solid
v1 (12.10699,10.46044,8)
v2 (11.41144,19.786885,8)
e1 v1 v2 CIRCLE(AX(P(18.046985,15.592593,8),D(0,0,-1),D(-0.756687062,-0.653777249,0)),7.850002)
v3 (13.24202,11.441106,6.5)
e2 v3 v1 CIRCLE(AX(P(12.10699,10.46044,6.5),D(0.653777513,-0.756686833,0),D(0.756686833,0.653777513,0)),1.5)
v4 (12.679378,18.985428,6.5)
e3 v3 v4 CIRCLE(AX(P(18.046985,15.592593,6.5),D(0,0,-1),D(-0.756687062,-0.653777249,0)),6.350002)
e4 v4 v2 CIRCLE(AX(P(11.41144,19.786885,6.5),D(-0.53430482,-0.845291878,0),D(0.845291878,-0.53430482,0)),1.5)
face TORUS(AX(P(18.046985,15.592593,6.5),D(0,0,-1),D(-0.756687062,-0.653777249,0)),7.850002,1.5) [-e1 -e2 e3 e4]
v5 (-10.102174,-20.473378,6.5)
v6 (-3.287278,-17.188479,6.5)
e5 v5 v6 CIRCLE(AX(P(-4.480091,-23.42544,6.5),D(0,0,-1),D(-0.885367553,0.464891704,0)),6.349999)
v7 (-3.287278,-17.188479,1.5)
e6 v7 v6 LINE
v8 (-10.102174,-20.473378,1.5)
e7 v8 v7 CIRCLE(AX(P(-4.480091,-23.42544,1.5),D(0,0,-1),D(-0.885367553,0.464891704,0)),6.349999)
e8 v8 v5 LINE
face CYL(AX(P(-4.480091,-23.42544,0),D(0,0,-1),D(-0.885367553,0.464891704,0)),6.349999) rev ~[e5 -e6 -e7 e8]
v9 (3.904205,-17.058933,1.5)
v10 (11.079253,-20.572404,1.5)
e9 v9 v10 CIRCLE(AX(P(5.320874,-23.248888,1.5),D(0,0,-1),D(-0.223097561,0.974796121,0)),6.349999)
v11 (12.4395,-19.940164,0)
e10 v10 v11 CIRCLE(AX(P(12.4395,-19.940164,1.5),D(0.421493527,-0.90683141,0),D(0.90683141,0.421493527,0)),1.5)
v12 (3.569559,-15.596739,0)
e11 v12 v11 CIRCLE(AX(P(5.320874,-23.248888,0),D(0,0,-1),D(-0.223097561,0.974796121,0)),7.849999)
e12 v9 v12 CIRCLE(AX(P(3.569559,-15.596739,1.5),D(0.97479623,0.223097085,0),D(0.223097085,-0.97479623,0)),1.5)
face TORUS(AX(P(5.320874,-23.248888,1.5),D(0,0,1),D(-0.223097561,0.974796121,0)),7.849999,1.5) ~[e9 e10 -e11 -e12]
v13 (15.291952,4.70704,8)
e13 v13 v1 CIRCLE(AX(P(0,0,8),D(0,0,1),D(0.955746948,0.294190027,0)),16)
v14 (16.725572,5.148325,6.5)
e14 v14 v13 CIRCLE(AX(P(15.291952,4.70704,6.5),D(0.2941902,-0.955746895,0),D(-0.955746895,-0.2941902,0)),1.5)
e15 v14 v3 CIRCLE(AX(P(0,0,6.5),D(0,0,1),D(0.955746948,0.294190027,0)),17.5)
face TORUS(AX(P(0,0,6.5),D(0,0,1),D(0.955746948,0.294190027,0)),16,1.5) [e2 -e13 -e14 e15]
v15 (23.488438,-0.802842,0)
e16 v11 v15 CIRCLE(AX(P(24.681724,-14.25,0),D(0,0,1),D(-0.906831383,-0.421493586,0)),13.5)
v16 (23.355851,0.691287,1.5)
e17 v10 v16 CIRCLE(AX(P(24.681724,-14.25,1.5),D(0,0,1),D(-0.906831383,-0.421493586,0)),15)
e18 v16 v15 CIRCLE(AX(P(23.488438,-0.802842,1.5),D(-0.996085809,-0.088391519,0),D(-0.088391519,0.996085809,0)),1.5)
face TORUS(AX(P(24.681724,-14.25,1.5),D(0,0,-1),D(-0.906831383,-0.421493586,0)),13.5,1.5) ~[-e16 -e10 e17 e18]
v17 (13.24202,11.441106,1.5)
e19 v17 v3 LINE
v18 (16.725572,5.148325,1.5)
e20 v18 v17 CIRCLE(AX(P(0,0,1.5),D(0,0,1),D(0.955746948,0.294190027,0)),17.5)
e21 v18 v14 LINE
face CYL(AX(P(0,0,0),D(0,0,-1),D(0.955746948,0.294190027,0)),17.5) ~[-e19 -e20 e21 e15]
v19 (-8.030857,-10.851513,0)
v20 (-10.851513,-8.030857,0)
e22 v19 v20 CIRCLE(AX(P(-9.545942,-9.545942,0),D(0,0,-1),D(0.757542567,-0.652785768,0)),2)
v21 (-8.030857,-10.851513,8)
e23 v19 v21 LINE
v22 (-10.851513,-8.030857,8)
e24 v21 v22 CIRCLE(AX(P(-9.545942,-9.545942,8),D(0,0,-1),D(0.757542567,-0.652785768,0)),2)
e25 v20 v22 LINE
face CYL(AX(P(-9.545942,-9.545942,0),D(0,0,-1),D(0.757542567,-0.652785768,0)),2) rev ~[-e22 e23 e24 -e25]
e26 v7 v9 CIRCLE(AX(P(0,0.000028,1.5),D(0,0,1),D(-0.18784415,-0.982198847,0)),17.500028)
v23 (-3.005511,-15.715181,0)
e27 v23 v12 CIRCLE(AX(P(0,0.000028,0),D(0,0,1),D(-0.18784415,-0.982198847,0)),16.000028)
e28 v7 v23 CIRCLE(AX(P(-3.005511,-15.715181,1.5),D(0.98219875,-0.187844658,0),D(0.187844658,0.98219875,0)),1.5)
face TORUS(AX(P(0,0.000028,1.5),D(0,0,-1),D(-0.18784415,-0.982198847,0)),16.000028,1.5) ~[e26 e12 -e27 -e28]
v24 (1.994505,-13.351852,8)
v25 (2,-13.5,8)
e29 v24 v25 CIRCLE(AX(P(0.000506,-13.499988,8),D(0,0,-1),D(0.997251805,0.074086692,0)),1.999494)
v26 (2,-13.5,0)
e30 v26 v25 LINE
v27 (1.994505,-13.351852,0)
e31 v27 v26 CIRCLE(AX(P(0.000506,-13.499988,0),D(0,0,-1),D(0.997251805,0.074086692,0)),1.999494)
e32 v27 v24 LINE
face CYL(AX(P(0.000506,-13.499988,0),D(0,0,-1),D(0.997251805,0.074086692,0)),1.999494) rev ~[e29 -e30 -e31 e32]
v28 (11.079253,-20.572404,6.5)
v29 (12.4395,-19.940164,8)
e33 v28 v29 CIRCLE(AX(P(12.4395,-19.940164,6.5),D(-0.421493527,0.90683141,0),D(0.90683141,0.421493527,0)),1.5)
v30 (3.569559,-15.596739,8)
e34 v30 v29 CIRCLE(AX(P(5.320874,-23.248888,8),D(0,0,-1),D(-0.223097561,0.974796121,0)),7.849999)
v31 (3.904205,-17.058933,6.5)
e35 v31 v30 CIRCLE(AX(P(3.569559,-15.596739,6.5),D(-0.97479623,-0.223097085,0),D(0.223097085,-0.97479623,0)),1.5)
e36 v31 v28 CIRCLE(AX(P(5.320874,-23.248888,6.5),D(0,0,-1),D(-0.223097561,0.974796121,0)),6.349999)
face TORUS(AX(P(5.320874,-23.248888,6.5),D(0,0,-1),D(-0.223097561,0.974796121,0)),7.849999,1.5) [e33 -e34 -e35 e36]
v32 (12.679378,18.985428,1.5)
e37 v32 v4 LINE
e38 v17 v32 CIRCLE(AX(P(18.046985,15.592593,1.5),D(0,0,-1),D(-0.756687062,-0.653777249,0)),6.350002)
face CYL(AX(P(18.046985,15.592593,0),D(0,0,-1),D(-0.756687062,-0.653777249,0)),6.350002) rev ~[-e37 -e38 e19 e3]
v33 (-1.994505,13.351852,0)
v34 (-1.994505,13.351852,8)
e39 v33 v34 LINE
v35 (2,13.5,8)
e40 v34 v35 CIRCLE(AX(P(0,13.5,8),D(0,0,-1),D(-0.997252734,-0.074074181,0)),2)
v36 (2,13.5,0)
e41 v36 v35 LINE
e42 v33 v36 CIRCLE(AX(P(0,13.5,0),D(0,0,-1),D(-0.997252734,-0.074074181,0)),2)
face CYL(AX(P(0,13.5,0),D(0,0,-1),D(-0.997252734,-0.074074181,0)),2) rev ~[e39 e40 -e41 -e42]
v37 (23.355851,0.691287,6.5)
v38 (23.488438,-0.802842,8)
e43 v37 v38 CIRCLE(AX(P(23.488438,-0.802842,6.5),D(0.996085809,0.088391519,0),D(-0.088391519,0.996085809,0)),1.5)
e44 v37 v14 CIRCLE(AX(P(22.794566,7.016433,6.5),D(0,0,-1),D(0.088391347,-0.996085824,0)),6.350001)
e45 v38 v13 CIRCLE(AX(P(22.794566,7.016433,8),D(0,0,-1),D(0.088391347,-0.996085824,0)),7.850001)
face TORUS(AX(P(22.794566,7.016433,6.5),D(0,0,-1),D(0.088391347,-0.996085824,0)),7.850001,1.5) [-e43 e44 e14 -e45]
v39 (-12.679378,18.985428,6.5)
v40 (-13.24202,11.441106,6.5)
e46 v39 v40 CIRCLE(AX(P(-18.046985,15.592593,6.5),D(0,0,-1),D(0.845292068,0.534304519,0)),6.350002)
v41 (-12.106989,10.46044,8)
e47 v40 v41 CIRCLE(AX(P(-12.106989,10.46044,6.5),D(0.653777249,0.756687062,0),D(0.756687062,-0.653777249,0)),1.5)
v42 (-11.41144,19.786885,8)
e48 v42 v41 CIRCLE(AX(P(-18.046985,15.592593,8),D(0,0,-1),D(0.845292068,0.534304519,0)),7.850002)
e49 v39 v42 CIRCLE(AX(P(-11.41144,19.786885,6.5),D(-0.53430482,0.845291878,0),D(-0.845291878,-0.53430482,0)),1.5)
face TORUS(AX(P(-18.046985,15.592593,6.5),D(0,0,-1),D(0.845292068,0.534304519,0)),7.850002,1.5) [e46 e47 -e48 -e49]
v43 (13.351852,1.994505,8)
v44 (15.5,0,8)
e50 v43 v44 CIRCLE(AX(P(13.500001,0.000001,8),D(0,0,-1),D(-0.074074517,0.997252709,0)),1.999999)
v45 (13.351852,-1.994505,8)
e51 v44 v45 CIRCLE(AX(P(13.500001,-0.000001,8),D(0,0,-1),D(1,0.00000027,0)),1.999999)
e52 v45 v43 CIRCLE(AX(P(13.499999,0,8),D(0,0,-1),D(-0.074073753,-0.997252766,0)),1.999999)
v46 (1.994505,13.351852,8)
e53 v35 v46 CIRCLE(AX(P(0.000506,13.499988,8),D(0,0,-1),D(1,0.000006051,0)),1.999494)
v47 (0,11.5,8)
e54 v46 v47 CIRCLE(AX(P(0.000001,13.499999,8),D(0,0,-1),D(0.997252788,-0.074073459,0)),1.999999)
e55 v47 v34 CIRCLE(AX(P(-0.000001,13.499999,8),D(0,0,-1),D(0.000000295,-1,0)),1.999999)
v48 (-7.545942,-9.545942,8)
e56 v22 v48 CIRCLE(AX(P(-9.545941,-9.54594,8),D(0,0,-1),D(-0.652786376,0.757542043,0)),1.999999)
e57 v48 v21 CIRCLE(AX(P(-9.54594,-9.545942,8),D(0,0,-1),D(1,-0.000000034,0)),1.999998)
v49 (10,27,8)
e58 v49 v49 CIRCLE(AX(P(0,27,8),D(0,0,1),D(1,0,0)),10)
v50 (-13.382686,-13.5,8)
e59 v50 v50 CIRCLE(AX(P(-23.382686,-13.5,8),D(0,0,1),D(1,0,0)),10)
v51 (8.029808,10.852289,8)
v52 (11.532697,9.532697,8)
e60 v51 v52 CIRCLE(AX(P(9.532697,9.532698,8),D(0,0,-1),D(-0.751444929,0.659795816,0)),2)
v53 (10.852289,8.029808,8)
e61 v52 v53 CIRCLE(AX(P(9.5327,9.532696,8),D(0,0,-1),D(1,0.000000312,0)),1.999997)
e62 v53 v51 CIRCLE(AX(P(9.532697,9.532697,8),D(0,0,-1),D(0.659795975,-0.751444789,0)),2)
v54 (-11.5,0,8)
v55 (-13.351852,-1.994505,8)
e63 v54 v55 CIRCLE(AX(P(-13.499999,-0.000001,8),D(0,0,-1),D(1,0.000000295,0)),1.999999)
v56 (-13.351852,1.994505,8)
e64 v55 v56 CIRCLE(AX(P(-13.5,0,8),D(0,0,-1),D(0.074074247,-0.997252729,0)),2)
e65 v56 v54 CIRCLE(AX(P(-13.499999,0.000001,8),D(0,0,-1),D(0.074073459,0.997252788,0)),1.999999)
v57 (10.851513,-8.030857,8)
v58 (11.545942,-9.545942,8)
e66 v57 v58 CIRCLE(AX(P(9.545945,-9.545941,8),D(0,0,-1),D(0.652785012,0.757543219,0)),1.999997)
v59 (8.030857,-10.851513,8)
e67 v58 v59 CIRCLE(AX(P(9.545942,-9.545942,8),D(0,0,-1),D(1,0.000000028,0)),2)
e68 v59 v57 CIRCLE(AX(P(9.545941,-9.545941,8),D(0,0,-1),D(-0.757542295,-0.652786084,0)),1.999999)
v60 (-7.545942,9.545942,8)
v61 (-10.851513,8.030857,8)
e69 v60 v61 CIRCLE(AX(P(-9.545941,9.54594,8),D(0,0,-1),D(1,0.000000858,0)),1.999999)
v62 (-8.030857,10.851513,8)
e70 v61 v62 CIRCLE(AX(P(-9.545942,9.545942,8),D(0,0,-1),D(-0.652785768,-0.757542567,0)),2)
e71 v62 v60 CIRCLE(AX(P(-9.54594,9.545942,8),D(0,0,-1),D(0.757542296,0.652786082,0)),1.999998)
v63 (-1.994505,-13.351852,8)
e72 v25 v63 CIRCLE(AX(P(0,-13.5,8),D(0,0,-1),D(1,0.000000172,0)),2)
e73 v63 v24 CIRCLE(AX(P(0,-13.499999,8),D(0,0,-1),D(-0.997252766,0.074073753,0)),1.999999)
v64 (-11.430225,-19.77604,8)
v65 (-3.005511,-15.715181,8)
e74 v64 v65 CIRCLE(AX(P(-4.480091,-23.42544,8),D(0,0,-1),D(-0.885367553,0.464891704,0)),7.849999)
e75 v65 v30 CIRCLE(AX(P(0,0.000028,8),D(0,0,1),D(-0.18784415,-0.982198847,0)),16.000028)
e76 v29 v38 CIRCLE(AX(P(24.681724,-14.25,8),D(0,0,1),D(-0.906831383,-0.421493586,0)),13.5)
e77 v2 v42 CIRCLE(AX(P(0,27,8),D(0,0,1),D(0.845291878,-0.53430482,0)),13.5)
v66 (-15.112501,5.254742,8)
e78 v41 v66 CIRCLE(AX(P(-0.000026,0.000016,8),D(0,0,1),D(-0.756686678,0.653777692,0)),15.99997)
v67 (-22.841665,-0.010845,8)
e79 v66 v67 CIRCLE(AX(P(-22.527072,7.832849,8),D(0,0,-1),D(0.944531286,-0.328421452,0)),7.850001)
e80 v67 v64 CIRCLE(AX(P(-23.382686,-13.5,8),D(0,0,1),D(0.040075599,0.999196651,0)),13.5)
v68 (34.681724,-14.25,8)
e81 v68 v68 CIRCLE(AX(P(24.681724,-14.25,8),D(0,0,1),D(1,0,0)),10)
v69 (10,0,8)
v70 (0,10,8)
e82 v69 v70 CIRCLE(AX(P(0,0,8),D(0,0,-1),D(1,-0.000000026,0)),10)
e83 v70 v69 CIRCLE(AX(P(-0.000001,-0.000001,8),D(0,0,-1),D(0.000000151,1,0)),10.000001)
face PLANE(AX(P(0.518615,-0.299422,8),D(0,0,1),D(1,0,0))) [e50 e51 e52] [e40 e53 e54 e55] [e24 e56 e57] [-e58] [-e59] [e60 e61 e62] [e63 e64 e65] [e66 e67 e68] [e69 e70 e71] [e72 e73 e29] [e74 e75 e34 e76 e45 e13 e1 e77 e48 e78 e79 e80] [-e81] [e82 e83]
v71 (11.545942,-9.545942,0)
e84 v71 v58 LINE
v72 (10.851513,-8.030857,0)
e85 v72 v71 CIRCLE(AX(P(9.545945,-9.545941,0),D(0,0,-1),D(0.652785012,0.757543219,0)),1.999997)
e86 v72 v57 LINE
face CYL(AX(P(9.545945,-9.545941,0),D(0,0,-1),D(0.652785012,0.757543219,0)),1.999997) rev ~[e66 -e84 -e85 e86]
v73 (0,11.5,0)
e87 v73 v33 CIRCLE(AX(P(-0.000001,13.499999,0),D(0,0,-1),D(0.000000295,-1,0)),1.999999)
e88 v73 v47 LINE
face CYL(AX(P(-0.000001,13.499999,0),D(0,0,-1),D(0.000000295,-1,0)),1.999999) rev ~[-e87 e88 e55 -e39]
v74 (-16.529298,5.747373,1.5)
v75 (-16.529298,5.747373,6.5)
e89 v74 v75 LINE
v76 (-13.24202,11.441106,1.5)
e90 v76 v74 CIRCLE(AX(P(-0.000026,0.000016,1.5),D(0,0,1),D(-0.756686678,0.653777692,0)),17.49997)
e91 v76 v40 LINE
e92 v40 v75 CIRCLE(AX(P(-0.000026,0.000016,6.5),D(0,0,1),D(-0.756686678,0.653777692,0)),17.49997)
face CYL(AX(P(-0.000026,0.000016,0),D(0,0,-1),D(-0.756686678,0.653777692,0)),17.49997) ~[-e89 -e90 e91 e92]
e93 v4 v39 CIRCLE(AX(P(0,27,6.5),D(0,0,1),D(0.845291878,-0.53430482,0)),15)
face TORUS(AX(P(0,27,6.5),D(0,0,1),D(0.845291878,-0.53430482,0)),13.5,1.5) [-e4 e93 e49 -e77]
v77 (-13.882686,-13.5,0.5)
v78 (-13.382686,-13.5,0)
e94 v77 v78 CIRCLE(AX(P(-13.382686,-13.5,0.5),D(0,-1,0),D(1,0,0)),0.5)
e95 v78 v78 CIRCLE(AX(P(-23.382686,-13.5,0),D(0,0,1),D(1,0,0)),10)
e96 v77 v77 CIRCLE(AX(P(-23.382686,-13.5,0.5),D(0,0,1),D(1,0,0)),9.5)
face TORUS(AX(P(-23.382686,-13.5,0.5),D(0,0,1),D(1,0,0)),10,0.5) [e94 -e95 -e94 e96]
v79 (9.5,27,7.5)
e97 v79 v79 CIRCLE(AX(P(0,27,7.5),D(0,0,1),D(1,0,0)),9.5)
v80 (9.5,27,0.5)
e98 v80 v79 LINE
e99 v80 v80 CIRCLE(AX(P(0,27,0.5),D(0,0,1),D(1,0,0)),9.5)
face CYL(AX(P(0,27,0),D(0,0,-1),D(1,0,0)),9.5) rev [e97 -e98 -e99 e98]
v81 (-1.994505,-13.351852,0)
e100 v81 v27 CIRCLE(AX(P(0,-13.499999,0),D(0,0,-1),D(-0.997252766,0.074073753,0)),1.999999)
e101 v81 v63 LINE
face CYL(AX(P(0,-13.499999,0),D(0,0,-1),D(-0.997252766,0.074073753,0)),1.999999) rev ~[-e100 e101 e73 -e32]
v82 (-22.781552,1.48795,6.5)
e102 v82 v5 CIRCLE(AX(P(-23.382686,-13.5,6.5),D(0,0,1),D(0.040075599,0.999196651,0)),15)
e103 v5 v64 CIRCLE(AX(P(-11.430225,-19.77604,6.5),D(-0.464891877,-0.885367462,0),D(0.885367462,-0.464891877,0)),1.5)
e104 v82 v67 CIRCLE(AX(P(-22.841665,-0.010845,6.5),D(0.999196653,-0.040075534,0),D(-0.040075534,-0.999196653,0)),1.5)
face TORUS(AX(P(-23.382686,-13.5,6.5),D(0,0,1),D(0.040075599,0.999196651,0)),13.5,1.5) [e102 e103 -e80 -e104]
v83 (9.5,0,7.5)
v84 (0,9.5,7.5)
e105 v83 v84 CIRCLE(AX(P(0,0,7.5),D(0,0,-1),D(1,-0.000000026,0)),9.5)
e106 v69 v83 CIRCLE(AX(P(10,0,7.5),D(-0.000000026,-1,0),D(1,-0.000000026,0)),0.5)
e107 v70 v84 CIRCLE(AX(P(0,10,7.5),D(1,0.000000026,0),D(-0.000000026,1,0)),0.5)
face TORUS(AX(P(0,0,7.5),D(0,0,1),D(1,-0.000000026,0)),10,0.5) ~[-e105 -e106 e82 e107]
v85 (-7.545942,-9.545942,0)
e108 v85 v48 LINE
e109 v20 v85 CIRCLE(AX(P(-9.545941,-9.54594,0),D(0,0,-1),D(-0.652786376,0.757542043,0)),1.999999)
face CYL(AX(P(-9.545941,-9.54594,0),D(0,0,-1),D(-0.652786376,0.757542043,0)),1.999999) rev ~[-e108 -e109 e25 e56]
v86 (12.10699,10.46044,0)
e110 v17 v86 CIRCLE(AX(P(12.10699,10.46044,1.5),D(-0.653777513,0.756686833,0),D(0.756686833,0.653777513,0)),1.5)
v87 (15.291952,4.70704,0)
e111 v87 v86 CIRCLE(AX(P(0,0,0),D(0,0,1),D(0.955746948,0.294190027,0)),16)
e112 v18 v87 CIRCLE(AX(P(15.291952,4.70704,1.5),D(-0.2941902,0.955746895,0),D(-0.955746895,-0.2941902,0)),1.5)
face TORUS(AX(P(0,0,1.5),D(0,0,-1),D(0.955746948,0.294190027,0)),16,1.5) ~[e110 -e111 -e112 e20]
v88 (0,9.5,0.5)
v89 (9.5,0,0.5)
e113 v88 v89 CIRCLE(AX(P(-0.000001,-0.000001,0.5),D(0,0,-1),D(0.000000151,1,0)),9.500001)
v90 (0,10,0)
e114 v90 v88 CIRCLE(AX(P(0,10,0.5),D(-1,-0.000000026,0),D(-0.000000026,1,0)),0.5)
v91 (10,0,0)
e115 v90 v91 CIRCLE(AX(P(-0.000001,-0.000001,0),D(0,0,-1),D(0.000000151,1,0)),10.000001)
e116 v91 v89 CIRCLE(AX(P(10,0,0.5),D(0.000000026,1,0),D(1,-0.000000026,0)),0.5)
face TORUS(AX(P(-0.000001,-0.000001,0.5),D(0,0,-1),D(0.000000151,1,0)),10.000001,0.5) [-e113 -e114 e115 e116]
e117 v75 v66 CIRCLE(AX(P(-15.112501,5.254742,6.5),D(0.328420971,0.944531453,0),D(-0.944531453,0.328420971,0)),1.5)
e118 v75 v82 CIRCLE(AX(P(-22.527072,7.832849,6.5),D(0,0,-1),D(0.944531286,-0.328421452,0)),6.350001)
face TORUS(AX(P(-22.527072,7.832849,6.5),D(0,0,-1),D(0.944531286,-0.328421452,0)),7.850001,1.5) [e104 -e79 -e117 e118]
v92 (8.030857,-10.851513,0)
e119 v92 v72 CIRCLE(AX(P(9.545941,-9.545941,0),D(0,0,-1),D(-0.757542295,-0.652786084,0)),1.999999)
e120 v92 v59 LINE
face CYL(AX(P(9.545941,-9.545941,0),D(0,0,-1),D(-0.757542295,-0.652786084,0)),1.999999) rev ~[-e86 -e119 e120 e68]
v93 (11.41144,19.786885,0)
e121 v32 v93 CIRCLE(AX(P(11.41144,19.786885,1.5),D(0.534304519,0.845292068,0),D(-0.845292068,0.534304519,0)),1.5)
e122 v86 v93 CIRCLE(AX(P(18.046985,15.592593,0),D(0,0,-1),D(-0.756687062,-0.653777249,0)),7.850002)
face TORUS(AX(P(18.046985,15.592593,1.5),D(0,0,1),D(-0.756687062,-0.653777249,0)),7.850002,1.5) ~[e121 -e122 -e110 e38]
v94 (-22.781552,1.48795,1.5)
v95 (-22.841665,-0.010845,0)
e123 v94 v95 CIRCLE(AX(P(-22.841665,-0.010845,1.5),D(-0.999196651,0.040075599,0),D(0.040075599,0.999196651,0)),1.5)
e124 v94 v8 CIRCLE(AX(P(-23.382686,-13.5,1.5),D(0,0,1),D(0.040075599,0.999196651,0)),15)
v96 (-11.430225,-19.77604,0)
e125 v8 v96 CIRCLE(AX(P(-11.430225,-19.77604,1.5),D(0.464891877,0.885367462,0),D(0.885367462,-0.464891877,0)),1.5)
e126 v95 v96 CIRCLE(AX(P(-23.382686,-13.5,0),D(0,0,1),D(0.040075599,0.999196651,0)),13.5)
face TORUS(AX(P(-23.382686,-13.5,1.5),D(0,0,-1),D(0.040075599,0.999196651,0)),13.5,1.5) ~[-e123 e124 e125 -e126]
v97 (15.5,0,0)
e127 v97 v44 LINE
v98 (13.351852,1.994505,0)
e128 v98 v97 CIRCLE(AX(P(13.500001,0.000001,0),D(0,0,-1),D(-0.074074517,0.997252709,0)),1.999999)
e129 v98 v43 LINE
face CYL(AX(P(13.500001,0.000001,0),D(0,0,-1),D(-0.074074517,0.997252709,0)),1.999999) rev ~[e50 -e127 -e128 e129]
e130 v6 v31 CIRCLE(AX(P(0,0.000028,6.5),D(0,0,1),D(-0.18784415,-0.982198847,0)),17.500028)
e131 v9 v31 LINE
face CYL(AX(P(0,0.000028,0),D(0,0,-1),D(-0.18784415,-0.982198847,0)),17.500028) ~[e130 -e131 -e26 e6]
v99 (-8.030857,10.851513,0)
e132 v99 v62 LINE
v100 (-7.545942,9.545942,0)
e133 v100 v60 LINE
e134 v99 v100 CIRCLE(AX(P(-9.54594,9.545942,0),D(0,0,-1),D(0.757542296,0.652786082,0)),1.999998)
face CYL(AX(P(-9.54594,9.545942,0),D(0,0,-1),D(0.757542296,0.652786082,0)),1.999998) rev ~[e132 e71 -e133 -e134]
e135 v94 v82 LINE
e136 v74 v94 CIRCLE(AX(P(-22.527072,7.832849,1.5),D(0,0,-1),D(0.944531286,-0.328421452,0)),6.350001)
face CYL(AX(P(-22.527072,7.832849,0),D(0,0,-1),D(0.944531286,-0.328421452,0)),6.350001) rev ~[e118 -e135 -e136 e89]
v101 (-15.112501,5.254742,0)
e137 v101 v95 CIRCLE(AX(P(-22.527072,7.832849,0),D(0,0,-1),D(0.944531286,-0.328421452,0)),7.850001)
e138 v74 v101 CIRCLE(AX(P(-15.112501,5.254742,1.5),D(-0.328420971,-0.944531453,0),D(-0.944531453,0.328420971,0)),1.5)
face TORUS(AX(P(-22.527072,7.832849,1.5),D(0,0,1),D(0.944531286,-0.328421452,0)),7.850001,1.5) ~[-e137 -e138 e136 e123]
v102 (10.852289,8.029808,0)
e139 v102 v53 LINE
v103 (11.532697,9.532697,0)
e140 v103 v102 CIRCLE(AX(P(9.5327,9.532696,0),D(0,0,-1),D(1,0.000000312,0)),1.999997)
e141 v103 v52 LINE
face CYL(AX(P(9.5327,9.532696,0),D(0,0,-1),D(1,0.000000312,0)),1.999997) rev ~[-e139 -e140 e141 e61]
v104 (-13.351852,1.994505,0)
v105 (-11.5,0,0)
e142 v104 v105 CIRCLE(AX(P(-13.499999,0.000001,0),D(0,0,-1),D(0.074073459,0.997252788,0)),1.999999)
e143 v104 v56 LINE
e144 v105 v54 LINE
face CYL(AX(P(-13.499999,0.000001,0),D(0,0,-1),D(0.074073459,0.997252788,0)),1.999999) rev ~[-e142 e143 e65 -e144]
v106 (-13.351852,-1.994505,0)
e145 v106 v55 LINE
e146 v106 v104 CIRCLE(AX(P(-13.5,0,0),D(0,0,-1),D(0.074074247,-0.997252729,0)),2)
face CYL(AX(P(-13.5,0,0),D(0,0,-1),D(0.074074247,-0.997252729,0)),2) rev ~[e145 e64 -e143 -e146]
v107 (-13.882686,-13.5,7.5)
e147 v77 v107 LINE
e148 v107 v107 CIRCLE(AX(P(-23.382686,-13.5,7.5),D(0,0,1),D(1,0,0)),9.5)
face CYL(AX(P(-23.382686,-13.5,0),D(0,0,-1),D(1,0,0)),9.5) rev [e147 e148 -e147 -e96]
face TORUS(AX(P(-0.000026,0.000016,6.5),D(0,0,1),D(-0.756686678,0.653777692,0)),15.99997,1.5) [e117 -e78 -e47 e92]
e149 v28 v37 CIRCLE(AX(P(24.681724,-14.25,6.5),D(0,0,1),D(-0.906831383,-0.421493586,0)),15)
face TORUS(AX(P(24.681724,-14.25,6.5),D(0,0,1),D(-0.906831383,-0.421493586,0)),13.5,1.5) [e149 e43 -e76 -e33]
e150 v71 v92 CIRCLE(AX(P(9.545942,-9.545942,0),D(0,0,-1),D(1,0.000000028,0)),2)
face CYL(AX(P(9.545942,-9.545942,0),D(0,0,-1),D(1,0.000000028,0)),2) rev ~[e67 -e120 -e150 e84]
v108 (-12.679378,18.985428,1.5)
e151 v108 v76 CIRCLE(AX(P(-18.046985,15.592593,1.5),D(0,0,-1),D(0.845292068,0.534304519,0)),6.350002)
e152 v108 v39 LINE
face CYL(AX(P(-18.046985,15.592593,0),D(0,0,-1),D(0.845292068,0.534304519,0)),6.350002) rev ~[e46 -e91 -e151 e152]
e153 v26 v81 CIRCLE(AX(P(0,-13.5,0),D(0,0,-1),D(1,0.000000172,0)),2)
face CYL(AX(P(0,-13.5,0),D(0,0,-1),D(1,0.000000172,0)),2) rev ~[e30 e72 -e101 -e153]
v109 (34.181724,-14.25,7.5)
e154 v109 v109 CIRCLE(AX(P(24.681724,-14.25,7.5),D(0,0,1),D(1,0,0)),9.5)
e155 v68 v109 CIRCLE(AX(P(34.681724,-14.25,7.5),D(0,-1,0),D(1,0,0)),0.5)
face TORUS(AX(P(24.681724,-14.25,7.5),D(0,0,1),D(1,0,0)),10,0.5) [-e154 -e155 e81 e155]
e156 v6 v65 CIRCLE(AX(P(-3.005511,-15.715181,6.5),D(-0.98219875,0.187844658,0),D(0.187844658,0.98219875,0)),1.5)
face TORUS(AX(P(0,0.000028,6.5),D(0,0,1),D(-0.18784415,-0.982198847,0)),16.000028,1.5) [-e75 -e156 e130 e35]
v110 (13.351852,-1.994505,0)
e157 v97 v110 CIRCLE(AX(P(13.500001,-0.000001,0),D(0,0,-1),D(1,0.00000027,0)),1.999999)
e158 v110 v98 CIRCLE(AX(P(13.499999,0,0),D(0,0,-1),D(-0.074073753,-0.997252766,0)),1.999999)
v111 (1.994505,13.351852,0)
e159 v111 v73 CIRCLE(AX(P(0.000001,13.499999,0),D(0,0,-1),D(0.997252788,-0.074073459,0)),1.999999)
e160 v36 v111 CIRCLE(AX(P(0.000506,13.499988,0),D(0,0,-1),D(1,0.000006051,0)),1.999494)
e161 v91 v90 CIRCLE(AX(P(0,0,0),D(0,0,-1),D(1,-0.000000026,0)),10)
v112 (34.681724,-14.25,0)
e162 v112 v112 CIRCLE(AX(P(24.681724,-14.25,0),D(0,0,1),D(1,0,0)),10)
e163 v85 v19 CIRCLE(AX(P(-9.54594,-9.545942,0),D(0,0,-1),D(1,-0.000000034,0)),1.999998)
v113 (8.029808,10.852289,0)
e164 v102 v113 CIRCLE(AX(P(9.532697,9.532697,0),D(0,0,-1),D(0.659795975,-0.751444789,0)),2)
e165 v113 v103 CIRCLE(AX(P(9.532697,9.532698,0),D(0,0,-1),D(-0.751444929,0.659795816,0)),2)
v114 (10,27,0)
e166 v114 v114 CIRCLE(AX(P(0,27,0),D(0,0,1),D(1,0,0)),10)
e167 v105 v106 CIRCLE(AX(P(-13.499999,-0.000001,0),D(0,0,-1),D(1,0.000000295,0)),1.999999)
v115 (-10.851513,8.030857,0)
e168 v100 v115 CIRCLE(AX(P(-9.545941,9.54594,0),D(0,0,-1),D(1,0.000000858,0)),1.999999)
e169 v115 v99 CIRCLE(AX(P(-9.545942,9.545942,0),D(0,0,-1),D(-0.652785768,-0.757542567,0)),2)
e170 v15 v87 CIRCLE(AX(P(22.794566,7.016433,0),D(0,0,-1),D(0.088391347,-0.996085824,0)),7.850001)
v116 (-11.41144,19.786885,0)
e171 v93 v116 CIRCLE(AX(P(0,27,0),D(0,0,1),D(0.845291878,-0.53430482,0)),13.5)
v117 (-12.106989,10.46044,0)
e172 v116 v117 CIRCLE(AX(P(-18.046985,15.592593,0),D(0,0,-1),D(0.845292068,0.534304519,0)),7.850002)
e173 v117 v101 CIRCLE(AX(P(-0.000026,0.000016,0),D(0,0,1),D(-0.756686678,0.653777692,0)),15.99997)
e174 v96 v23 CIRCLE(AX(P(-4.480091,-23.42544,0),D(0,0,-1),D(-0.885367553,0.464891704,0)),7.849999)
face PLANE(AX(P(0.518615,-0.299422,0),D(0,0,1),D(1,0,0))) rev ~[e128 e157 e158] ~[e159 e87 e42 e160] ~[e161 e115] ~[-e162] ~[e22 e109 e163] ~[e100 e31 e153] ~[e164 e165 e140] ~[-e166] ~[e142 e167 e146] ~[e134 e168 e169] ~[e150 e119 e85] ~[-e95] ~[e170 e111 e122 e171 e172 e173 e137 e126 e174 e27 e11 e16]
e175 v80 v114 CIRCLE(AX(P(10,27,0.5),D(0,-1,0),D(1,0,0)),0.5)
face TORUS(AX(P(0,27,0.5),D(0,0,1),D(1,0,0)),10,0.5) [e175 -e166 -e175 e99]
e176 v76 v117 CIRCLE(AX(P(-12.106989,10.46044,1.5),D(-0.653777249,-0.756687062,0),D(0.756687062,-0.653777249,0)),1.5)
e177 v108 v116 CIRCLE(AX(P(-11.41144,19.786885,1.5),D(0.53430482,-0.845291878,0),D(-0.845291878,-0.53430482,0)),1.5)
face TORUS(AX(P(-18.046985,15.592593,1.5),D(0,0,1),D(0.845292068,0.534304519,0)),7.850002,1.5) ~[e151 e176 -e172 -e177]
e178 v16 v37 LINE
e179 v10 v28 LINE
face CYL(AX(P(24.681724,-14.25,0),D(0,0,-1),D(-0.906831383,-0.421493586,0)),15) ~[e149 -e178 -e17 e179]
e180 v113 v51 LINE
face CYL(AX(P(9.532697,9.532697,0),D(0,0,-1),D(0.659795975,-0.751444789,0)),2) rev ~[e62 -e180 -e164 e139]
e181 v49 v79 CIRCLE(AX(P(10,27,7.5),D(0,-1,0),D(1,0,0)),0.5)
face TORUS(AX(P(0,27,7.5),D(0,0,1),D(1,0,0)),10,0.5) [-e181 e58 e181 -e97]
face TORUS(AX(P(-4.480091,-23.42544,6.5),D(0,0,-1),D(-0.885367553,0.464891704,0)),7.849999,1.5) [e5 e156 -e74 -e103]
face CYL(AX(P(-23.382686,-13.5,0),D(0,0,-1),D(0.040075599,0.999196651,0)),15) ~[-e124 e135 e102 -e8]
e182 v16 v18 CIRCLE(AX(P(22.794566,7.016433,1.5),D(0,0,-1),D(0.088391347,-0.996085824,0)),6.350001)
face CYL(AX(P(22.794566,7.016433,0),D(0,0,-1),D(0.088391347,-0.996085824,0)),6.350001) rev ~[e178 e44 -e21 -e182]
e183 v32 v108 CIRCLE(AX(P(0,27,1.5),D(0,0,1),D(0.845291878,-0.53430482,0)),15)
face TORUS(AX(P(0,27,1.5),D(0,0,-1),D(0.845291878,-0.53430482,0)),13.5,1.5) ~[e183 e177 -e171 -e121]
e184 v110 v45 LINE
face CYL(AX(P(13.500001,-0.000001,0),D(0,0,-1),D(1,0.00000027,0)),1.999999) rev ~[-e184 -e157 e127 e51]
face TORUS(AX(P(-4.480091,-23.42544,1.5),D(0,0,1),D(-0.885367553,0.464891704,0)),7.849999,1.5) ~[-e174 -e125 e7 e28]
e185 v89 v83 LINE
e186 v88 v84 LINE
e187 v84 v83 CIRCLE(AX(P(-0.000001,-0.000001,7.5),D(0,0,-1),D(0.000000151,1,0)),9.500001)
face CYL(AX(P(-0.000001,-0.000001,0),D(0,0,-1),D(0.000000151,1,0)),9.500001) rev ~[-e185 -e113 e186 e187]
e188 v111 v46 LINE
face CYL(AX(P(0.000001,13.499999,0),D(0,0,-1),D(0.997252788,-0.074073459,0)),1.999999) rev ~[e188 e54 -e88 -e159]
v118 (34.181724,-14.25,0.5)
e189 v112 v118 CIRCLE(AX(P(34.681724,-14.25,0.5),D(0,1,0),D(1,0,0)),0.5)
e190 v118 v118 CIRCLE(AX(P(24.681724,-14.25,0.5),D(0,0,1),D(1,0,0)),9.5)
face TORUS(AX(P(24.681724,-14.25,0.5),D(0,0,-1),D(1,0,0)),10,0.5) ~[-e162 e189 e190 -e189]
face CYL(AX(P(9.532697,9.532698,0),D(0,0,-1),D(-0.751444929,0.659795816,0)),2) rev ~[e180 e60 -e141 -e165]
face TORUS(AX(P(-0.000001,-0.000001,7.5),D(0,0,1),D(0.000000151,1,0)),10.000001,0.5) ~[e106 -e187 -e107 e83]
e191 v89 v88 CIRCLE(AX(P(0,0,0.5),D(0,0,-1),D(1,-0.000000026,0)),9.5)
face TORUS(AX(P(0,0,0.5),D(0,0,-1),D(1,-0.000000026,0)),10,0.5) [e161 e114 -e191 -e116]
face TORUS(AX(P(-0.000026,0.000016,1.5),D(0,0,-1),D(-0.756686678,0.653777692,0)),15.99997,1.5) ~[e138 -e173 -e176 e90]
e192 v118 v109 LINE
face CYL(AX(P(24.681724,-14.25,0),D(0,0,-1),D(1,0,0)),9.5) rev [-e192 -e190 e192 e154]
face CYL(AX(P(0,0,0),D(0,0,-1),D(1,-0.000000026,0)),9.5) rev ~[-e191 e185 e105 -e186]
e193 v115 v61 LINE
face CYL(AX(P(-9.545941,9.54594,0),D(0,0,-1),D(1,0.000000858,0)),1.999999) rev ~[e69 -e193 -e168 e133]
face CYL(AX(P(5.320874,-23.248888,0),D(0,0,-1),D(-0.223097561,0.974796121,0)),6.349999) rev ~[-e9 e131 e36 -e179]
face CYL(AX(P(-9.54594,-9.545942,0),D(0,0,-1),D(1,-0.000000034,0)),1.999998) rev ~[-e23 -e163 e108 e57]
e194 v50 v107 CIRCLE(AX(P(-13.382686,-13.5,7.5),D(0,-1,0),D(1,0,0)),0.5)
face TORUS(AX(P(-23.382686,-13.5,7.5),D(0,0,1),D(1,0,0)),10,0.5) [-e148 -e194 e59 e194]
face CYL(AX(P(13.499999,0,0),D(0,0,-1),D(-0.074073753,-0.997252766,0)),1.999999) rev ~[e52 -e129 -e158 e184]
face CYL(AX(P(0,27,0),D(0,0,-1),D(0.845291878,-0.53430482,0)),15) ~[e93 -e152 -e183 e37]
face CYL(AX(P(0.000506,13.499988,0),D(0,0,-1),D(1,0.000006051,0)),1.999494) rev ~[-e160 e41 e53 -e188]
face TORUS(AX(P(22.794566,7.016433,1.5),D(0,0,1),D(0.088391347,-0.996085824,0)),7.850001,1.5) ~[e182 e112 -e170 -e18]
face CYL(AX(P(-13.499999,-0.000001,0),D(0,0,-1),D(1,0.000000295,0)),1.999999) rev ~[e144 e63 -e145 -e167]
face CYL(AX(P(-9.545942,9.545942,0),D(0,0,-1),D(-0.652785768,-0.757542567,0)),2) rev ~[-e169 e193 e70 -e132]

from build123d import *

# Parameters (mm, degrees)
F0_R     = 9.5
F1_DEPTH = 8
F2_R     = 1.5
F3_R     = 1.5
F4_R     = 0.5
F5_R     = 0.5
F6_R     = 0.5


with BuildPart() as f1:
    # F0 (on Top) → F1 (new body)
    with BuildSketch(Plane.XY):
        with BuildLine():
            ThreePointArc((-12.679378, 18.985428), (-11.714568, 15.120333), (-13.24202, 11.441106))
            ThreePointArc((-13.24202, 11.441106), (-15.155445, 8.75), (-16.529298, 5.747373))
            ThreePointArc((-16.529298, 5.747373), (-18.951876, 2.584947), (-22.781552, 1.48795))
            ThreePointArc((-22.781552, 1.48795), (-36.373067, -21), (-10.102174, -20.473378))
            ThreePointArc((-10.102174, -20.473378), (-7.237308, -17.705279), (-3.287278, -17.188479))
            ThreePointArc((-3.287278, -17.188479), (0.315191, -17.497161), (3.904205, -17.058933))
            ThreePointArc((3.904205, -17.058933), (8.113495, -17.545927), (11.079253, -20.572404))
            ThreePointArc((11.079253, -20.572404), (37.672105, -21.75), (23.355851, 0.691287))
            ThreePointArc((23.355851, 0.691287), (19.251966, 1.746471), (16.725572, 5.148325))
            ThreePointArc((16.725572, 5.148325), (15.310582, 8.475617), (13.24202, 11.441106))
            ThreePointArc((13.24202, 11.441106), (11.714568, 15.120333), (12.679378, 18.985428))
            ThreePointArc((12.679378, 18.985428), (0, 42), (-12.679378, 18.985428))
        make_face()
        with Locations((-23.382686, -13.5)):
            Circle(F0_R, mode=Mode.SUBTRACT)
        with BuildLine():
            ThreePointArc((-8.030857, 10.851513), (-5.166226, 12.472374), (-1.994505, 13.351852))
            ThreePointArc((-1.994505, 13.351852), (-0.074125, 15.498626), (2, 13.5))
            ThreePointArc((2, 13.5), (1.998626, 13.425875), (1.994505, 13.351852))
            ThreePointArc((1.994505, 13.351852), (5.165624, 12.472623), (8.029808, 10.852289))
            ThreePointArc((8.029808, 10.852289), (10.237758, 11.404298), (11.532697, 9.532697))
            ThreePointArc((11.532697, 9.532697), (11.354672, 8.707829), (10.852289, 8.029808))
            ThreePointArc((10.852289, 8.029808), (12.472623, 5.165624), (13.351852, 1.994505))
            ThreePointArc((13.351852, 1.994505), (14.860828, 1.465656), (15.5, 0))
            ThreePointArc((15.5, 0), (14.860828, -1.465656), (13.351852, -1.994505))
            ThreePointArc((13.351852, -1.994505), (12.472374, -5.166226), (10.851513, -8.030857))
            ThreePointArc((10.851513, -8.030857), (11.364065, -8.712618), (11.545942, -9.545942))
            ThreePointArc((11.545942, -9.545942), (10.2423, -11.420798), (8.030857, -10.851513))
            ThreePointArc((8.030857, -10.851513), (5.166226, -12.472374), (1.994505, -13.351852))
            ThreePointArc((1.994505, -13.351852), (1.998626, -13.425875), (2, -13.5))
            ThreePointArc((2, -13.5), (-0.074125, -15.498626), (-1.994505, -13.351852))
            ThreePointArc((-1.994505, -13.351852), (-5.166226, -12.472374), (-8.030857, -10.851513))
            ThreePointArc((-8.030857, -10.851513), (-10.960155, -10.960155), (-10.851513, -8.030857))
            ThreePointArc((-10.851513, -8.030857), (-12.472374, -5.166226), (-13.351852, -1.994505))
            ThreePointArc((-13.351852, -1.994505), (-15.5, 0), (-13.351852, 1.994505))
            ThreePointArc((-13.351852, 1.994505), (-12.472374, 5.166226), (-10.851513, 8.030857))
            ThreePointArc((-10.851513, 8.030857), (-10.960155, 10.960155), (-8.030857, 10.851513))
        make_face(mode=Mode.SUBTRACT)
        with Locations((24.681724, -14.25)):
            Circle(F0_R, mode=Mode.SUBTRACT)
        with Locations((0, 27)):
            Circle(F0_R, mode=Mode.SUBTRACT)
        with BuildLine():
            ThreePointArc((1.994505, 13.351852), (1.360828, 12.034344), (0, 11.5))
            ThreePointArc((0, 11.5), (-1.360828, 12.034344), (-1.994505, 13.351852))
            ThreePointArc((-1.994505, 13.351852), (-5.166226, 12.472374), (-8.030857, 10.851513))
            ThreePointArc((-8.030857, 10.851513), (-7.671086, 10.2423), (-7.545942, 9.545942))
            ThreePointArc((-7.545942, 9.545942), (-8.712618, 7.727818), (-10.851513, 8.030857))
            ThreePointArc((-10.851513, 8.030857), (-12.472374, 5.166226), (-13.351852, 1.994505))
            ThreePointArc((-13.351852, 1.994505), (-12.034344, 1.360828), (-11.5, 0))
            ThreePointArc((-11.5, 0), (-12.034344, -1.360828), (-13.351852, -1.994505))
            ThreePointArc((-13.351852, -1.994505), (-12.472374, -5.166226), (-10.851513, -8.030857))
            ThreePointArc((-10.851513, -8.030857), (-8.712618, -7.727818), (-7.545942, -9.545942))
            ThreePointArc((-7.545942, -9.545942), (-7.671086, -10.2423), (-8.030857, -10.851513))
            ThreePointArc((-8.030857, -10.851513), (-5.166226, -12.472374), (-1.994505, -13.351852))
            ThreePointArc((-1.994505, -13.351852), (0, -11.5), (1.994505, -13.351852))
            ThreePointArc((1.994505, -13.351852), (5.166226, -12.472374), (8.030857, -10.851513))
            ThreePointArc((8.030857, -10.851513), (8.131728, -8.131728), (10.851513, -8.030857))
            ThreePointArc((10.851513, -8.030857), (12.472374, -5.166226), (13.351852, -1.994505))
            ThreePointArc((13.351852, -1.994505), (11.5, 0), (13.351852, 1.994505))
            ThreePointArc((13.351852, 1.994505), (12.472623, 5.165624), (10.852289, 8.029808))
            ThreePointArc((10.852289, 8.029808), (8.118484, 8.118484), (8.029808, 10.852289))
            ThreePointArc((8.029808, 10.852289), (5.165624, 12.472623), (1.994505, 13.351852))
        make_face()
        with BuildLine():
            ThreePointArc((0, 9.5), (6.717514, 6.717514), (9.5, 0))
            ThreePointArc((9.5, 0), (-6.717514, -6.717514), (0, 9.5))
        make_face(mode=Mode.SUBTRACT)
    extrude(amount=F1_DEPTH)

    # F2
    f2_edges = [f1.edges().sort_by_distance(p)[0] for p in [
        (-36.373067, -21, 0),
    ]]
    fillet(f2_edges, radius=F2_R)

    # F3
    f3_edges = [f1.edges().sort_by_distance(p)[0] for p in [
        (0, 42, 8),
    ]]
    fillet(f3_edges, radius=F3_R)

    # F4
    f4_edges = [f1.edges().sort_by_distance(p)[0] for p in [
        (-32.882686, -13.5, 8),
    ]]
    fillet(f4_edges, radius=F4_R)

    # F5
    f5_edges = [f1.edges().sort_by_distance(p)[0] for p in [
        (-9.5, 27, 8),
        (0, -9.5, 8),
        (15.181724, -14.25, 8),
    ]]
    fillet(f5_edges, radius=F5_R)

    # F6
    f6_edges = [f1.edges().sort_by_distance(p)[0] for p in [
        (-32.882686, -13.5, 0),
        (0, -9.5, 0),
        (-9.5, 27, 0),
        (15.181724, -14.25, 0),
    ]]
    fillet(f6_edges, radius=F6_R)


solid = f1.part
